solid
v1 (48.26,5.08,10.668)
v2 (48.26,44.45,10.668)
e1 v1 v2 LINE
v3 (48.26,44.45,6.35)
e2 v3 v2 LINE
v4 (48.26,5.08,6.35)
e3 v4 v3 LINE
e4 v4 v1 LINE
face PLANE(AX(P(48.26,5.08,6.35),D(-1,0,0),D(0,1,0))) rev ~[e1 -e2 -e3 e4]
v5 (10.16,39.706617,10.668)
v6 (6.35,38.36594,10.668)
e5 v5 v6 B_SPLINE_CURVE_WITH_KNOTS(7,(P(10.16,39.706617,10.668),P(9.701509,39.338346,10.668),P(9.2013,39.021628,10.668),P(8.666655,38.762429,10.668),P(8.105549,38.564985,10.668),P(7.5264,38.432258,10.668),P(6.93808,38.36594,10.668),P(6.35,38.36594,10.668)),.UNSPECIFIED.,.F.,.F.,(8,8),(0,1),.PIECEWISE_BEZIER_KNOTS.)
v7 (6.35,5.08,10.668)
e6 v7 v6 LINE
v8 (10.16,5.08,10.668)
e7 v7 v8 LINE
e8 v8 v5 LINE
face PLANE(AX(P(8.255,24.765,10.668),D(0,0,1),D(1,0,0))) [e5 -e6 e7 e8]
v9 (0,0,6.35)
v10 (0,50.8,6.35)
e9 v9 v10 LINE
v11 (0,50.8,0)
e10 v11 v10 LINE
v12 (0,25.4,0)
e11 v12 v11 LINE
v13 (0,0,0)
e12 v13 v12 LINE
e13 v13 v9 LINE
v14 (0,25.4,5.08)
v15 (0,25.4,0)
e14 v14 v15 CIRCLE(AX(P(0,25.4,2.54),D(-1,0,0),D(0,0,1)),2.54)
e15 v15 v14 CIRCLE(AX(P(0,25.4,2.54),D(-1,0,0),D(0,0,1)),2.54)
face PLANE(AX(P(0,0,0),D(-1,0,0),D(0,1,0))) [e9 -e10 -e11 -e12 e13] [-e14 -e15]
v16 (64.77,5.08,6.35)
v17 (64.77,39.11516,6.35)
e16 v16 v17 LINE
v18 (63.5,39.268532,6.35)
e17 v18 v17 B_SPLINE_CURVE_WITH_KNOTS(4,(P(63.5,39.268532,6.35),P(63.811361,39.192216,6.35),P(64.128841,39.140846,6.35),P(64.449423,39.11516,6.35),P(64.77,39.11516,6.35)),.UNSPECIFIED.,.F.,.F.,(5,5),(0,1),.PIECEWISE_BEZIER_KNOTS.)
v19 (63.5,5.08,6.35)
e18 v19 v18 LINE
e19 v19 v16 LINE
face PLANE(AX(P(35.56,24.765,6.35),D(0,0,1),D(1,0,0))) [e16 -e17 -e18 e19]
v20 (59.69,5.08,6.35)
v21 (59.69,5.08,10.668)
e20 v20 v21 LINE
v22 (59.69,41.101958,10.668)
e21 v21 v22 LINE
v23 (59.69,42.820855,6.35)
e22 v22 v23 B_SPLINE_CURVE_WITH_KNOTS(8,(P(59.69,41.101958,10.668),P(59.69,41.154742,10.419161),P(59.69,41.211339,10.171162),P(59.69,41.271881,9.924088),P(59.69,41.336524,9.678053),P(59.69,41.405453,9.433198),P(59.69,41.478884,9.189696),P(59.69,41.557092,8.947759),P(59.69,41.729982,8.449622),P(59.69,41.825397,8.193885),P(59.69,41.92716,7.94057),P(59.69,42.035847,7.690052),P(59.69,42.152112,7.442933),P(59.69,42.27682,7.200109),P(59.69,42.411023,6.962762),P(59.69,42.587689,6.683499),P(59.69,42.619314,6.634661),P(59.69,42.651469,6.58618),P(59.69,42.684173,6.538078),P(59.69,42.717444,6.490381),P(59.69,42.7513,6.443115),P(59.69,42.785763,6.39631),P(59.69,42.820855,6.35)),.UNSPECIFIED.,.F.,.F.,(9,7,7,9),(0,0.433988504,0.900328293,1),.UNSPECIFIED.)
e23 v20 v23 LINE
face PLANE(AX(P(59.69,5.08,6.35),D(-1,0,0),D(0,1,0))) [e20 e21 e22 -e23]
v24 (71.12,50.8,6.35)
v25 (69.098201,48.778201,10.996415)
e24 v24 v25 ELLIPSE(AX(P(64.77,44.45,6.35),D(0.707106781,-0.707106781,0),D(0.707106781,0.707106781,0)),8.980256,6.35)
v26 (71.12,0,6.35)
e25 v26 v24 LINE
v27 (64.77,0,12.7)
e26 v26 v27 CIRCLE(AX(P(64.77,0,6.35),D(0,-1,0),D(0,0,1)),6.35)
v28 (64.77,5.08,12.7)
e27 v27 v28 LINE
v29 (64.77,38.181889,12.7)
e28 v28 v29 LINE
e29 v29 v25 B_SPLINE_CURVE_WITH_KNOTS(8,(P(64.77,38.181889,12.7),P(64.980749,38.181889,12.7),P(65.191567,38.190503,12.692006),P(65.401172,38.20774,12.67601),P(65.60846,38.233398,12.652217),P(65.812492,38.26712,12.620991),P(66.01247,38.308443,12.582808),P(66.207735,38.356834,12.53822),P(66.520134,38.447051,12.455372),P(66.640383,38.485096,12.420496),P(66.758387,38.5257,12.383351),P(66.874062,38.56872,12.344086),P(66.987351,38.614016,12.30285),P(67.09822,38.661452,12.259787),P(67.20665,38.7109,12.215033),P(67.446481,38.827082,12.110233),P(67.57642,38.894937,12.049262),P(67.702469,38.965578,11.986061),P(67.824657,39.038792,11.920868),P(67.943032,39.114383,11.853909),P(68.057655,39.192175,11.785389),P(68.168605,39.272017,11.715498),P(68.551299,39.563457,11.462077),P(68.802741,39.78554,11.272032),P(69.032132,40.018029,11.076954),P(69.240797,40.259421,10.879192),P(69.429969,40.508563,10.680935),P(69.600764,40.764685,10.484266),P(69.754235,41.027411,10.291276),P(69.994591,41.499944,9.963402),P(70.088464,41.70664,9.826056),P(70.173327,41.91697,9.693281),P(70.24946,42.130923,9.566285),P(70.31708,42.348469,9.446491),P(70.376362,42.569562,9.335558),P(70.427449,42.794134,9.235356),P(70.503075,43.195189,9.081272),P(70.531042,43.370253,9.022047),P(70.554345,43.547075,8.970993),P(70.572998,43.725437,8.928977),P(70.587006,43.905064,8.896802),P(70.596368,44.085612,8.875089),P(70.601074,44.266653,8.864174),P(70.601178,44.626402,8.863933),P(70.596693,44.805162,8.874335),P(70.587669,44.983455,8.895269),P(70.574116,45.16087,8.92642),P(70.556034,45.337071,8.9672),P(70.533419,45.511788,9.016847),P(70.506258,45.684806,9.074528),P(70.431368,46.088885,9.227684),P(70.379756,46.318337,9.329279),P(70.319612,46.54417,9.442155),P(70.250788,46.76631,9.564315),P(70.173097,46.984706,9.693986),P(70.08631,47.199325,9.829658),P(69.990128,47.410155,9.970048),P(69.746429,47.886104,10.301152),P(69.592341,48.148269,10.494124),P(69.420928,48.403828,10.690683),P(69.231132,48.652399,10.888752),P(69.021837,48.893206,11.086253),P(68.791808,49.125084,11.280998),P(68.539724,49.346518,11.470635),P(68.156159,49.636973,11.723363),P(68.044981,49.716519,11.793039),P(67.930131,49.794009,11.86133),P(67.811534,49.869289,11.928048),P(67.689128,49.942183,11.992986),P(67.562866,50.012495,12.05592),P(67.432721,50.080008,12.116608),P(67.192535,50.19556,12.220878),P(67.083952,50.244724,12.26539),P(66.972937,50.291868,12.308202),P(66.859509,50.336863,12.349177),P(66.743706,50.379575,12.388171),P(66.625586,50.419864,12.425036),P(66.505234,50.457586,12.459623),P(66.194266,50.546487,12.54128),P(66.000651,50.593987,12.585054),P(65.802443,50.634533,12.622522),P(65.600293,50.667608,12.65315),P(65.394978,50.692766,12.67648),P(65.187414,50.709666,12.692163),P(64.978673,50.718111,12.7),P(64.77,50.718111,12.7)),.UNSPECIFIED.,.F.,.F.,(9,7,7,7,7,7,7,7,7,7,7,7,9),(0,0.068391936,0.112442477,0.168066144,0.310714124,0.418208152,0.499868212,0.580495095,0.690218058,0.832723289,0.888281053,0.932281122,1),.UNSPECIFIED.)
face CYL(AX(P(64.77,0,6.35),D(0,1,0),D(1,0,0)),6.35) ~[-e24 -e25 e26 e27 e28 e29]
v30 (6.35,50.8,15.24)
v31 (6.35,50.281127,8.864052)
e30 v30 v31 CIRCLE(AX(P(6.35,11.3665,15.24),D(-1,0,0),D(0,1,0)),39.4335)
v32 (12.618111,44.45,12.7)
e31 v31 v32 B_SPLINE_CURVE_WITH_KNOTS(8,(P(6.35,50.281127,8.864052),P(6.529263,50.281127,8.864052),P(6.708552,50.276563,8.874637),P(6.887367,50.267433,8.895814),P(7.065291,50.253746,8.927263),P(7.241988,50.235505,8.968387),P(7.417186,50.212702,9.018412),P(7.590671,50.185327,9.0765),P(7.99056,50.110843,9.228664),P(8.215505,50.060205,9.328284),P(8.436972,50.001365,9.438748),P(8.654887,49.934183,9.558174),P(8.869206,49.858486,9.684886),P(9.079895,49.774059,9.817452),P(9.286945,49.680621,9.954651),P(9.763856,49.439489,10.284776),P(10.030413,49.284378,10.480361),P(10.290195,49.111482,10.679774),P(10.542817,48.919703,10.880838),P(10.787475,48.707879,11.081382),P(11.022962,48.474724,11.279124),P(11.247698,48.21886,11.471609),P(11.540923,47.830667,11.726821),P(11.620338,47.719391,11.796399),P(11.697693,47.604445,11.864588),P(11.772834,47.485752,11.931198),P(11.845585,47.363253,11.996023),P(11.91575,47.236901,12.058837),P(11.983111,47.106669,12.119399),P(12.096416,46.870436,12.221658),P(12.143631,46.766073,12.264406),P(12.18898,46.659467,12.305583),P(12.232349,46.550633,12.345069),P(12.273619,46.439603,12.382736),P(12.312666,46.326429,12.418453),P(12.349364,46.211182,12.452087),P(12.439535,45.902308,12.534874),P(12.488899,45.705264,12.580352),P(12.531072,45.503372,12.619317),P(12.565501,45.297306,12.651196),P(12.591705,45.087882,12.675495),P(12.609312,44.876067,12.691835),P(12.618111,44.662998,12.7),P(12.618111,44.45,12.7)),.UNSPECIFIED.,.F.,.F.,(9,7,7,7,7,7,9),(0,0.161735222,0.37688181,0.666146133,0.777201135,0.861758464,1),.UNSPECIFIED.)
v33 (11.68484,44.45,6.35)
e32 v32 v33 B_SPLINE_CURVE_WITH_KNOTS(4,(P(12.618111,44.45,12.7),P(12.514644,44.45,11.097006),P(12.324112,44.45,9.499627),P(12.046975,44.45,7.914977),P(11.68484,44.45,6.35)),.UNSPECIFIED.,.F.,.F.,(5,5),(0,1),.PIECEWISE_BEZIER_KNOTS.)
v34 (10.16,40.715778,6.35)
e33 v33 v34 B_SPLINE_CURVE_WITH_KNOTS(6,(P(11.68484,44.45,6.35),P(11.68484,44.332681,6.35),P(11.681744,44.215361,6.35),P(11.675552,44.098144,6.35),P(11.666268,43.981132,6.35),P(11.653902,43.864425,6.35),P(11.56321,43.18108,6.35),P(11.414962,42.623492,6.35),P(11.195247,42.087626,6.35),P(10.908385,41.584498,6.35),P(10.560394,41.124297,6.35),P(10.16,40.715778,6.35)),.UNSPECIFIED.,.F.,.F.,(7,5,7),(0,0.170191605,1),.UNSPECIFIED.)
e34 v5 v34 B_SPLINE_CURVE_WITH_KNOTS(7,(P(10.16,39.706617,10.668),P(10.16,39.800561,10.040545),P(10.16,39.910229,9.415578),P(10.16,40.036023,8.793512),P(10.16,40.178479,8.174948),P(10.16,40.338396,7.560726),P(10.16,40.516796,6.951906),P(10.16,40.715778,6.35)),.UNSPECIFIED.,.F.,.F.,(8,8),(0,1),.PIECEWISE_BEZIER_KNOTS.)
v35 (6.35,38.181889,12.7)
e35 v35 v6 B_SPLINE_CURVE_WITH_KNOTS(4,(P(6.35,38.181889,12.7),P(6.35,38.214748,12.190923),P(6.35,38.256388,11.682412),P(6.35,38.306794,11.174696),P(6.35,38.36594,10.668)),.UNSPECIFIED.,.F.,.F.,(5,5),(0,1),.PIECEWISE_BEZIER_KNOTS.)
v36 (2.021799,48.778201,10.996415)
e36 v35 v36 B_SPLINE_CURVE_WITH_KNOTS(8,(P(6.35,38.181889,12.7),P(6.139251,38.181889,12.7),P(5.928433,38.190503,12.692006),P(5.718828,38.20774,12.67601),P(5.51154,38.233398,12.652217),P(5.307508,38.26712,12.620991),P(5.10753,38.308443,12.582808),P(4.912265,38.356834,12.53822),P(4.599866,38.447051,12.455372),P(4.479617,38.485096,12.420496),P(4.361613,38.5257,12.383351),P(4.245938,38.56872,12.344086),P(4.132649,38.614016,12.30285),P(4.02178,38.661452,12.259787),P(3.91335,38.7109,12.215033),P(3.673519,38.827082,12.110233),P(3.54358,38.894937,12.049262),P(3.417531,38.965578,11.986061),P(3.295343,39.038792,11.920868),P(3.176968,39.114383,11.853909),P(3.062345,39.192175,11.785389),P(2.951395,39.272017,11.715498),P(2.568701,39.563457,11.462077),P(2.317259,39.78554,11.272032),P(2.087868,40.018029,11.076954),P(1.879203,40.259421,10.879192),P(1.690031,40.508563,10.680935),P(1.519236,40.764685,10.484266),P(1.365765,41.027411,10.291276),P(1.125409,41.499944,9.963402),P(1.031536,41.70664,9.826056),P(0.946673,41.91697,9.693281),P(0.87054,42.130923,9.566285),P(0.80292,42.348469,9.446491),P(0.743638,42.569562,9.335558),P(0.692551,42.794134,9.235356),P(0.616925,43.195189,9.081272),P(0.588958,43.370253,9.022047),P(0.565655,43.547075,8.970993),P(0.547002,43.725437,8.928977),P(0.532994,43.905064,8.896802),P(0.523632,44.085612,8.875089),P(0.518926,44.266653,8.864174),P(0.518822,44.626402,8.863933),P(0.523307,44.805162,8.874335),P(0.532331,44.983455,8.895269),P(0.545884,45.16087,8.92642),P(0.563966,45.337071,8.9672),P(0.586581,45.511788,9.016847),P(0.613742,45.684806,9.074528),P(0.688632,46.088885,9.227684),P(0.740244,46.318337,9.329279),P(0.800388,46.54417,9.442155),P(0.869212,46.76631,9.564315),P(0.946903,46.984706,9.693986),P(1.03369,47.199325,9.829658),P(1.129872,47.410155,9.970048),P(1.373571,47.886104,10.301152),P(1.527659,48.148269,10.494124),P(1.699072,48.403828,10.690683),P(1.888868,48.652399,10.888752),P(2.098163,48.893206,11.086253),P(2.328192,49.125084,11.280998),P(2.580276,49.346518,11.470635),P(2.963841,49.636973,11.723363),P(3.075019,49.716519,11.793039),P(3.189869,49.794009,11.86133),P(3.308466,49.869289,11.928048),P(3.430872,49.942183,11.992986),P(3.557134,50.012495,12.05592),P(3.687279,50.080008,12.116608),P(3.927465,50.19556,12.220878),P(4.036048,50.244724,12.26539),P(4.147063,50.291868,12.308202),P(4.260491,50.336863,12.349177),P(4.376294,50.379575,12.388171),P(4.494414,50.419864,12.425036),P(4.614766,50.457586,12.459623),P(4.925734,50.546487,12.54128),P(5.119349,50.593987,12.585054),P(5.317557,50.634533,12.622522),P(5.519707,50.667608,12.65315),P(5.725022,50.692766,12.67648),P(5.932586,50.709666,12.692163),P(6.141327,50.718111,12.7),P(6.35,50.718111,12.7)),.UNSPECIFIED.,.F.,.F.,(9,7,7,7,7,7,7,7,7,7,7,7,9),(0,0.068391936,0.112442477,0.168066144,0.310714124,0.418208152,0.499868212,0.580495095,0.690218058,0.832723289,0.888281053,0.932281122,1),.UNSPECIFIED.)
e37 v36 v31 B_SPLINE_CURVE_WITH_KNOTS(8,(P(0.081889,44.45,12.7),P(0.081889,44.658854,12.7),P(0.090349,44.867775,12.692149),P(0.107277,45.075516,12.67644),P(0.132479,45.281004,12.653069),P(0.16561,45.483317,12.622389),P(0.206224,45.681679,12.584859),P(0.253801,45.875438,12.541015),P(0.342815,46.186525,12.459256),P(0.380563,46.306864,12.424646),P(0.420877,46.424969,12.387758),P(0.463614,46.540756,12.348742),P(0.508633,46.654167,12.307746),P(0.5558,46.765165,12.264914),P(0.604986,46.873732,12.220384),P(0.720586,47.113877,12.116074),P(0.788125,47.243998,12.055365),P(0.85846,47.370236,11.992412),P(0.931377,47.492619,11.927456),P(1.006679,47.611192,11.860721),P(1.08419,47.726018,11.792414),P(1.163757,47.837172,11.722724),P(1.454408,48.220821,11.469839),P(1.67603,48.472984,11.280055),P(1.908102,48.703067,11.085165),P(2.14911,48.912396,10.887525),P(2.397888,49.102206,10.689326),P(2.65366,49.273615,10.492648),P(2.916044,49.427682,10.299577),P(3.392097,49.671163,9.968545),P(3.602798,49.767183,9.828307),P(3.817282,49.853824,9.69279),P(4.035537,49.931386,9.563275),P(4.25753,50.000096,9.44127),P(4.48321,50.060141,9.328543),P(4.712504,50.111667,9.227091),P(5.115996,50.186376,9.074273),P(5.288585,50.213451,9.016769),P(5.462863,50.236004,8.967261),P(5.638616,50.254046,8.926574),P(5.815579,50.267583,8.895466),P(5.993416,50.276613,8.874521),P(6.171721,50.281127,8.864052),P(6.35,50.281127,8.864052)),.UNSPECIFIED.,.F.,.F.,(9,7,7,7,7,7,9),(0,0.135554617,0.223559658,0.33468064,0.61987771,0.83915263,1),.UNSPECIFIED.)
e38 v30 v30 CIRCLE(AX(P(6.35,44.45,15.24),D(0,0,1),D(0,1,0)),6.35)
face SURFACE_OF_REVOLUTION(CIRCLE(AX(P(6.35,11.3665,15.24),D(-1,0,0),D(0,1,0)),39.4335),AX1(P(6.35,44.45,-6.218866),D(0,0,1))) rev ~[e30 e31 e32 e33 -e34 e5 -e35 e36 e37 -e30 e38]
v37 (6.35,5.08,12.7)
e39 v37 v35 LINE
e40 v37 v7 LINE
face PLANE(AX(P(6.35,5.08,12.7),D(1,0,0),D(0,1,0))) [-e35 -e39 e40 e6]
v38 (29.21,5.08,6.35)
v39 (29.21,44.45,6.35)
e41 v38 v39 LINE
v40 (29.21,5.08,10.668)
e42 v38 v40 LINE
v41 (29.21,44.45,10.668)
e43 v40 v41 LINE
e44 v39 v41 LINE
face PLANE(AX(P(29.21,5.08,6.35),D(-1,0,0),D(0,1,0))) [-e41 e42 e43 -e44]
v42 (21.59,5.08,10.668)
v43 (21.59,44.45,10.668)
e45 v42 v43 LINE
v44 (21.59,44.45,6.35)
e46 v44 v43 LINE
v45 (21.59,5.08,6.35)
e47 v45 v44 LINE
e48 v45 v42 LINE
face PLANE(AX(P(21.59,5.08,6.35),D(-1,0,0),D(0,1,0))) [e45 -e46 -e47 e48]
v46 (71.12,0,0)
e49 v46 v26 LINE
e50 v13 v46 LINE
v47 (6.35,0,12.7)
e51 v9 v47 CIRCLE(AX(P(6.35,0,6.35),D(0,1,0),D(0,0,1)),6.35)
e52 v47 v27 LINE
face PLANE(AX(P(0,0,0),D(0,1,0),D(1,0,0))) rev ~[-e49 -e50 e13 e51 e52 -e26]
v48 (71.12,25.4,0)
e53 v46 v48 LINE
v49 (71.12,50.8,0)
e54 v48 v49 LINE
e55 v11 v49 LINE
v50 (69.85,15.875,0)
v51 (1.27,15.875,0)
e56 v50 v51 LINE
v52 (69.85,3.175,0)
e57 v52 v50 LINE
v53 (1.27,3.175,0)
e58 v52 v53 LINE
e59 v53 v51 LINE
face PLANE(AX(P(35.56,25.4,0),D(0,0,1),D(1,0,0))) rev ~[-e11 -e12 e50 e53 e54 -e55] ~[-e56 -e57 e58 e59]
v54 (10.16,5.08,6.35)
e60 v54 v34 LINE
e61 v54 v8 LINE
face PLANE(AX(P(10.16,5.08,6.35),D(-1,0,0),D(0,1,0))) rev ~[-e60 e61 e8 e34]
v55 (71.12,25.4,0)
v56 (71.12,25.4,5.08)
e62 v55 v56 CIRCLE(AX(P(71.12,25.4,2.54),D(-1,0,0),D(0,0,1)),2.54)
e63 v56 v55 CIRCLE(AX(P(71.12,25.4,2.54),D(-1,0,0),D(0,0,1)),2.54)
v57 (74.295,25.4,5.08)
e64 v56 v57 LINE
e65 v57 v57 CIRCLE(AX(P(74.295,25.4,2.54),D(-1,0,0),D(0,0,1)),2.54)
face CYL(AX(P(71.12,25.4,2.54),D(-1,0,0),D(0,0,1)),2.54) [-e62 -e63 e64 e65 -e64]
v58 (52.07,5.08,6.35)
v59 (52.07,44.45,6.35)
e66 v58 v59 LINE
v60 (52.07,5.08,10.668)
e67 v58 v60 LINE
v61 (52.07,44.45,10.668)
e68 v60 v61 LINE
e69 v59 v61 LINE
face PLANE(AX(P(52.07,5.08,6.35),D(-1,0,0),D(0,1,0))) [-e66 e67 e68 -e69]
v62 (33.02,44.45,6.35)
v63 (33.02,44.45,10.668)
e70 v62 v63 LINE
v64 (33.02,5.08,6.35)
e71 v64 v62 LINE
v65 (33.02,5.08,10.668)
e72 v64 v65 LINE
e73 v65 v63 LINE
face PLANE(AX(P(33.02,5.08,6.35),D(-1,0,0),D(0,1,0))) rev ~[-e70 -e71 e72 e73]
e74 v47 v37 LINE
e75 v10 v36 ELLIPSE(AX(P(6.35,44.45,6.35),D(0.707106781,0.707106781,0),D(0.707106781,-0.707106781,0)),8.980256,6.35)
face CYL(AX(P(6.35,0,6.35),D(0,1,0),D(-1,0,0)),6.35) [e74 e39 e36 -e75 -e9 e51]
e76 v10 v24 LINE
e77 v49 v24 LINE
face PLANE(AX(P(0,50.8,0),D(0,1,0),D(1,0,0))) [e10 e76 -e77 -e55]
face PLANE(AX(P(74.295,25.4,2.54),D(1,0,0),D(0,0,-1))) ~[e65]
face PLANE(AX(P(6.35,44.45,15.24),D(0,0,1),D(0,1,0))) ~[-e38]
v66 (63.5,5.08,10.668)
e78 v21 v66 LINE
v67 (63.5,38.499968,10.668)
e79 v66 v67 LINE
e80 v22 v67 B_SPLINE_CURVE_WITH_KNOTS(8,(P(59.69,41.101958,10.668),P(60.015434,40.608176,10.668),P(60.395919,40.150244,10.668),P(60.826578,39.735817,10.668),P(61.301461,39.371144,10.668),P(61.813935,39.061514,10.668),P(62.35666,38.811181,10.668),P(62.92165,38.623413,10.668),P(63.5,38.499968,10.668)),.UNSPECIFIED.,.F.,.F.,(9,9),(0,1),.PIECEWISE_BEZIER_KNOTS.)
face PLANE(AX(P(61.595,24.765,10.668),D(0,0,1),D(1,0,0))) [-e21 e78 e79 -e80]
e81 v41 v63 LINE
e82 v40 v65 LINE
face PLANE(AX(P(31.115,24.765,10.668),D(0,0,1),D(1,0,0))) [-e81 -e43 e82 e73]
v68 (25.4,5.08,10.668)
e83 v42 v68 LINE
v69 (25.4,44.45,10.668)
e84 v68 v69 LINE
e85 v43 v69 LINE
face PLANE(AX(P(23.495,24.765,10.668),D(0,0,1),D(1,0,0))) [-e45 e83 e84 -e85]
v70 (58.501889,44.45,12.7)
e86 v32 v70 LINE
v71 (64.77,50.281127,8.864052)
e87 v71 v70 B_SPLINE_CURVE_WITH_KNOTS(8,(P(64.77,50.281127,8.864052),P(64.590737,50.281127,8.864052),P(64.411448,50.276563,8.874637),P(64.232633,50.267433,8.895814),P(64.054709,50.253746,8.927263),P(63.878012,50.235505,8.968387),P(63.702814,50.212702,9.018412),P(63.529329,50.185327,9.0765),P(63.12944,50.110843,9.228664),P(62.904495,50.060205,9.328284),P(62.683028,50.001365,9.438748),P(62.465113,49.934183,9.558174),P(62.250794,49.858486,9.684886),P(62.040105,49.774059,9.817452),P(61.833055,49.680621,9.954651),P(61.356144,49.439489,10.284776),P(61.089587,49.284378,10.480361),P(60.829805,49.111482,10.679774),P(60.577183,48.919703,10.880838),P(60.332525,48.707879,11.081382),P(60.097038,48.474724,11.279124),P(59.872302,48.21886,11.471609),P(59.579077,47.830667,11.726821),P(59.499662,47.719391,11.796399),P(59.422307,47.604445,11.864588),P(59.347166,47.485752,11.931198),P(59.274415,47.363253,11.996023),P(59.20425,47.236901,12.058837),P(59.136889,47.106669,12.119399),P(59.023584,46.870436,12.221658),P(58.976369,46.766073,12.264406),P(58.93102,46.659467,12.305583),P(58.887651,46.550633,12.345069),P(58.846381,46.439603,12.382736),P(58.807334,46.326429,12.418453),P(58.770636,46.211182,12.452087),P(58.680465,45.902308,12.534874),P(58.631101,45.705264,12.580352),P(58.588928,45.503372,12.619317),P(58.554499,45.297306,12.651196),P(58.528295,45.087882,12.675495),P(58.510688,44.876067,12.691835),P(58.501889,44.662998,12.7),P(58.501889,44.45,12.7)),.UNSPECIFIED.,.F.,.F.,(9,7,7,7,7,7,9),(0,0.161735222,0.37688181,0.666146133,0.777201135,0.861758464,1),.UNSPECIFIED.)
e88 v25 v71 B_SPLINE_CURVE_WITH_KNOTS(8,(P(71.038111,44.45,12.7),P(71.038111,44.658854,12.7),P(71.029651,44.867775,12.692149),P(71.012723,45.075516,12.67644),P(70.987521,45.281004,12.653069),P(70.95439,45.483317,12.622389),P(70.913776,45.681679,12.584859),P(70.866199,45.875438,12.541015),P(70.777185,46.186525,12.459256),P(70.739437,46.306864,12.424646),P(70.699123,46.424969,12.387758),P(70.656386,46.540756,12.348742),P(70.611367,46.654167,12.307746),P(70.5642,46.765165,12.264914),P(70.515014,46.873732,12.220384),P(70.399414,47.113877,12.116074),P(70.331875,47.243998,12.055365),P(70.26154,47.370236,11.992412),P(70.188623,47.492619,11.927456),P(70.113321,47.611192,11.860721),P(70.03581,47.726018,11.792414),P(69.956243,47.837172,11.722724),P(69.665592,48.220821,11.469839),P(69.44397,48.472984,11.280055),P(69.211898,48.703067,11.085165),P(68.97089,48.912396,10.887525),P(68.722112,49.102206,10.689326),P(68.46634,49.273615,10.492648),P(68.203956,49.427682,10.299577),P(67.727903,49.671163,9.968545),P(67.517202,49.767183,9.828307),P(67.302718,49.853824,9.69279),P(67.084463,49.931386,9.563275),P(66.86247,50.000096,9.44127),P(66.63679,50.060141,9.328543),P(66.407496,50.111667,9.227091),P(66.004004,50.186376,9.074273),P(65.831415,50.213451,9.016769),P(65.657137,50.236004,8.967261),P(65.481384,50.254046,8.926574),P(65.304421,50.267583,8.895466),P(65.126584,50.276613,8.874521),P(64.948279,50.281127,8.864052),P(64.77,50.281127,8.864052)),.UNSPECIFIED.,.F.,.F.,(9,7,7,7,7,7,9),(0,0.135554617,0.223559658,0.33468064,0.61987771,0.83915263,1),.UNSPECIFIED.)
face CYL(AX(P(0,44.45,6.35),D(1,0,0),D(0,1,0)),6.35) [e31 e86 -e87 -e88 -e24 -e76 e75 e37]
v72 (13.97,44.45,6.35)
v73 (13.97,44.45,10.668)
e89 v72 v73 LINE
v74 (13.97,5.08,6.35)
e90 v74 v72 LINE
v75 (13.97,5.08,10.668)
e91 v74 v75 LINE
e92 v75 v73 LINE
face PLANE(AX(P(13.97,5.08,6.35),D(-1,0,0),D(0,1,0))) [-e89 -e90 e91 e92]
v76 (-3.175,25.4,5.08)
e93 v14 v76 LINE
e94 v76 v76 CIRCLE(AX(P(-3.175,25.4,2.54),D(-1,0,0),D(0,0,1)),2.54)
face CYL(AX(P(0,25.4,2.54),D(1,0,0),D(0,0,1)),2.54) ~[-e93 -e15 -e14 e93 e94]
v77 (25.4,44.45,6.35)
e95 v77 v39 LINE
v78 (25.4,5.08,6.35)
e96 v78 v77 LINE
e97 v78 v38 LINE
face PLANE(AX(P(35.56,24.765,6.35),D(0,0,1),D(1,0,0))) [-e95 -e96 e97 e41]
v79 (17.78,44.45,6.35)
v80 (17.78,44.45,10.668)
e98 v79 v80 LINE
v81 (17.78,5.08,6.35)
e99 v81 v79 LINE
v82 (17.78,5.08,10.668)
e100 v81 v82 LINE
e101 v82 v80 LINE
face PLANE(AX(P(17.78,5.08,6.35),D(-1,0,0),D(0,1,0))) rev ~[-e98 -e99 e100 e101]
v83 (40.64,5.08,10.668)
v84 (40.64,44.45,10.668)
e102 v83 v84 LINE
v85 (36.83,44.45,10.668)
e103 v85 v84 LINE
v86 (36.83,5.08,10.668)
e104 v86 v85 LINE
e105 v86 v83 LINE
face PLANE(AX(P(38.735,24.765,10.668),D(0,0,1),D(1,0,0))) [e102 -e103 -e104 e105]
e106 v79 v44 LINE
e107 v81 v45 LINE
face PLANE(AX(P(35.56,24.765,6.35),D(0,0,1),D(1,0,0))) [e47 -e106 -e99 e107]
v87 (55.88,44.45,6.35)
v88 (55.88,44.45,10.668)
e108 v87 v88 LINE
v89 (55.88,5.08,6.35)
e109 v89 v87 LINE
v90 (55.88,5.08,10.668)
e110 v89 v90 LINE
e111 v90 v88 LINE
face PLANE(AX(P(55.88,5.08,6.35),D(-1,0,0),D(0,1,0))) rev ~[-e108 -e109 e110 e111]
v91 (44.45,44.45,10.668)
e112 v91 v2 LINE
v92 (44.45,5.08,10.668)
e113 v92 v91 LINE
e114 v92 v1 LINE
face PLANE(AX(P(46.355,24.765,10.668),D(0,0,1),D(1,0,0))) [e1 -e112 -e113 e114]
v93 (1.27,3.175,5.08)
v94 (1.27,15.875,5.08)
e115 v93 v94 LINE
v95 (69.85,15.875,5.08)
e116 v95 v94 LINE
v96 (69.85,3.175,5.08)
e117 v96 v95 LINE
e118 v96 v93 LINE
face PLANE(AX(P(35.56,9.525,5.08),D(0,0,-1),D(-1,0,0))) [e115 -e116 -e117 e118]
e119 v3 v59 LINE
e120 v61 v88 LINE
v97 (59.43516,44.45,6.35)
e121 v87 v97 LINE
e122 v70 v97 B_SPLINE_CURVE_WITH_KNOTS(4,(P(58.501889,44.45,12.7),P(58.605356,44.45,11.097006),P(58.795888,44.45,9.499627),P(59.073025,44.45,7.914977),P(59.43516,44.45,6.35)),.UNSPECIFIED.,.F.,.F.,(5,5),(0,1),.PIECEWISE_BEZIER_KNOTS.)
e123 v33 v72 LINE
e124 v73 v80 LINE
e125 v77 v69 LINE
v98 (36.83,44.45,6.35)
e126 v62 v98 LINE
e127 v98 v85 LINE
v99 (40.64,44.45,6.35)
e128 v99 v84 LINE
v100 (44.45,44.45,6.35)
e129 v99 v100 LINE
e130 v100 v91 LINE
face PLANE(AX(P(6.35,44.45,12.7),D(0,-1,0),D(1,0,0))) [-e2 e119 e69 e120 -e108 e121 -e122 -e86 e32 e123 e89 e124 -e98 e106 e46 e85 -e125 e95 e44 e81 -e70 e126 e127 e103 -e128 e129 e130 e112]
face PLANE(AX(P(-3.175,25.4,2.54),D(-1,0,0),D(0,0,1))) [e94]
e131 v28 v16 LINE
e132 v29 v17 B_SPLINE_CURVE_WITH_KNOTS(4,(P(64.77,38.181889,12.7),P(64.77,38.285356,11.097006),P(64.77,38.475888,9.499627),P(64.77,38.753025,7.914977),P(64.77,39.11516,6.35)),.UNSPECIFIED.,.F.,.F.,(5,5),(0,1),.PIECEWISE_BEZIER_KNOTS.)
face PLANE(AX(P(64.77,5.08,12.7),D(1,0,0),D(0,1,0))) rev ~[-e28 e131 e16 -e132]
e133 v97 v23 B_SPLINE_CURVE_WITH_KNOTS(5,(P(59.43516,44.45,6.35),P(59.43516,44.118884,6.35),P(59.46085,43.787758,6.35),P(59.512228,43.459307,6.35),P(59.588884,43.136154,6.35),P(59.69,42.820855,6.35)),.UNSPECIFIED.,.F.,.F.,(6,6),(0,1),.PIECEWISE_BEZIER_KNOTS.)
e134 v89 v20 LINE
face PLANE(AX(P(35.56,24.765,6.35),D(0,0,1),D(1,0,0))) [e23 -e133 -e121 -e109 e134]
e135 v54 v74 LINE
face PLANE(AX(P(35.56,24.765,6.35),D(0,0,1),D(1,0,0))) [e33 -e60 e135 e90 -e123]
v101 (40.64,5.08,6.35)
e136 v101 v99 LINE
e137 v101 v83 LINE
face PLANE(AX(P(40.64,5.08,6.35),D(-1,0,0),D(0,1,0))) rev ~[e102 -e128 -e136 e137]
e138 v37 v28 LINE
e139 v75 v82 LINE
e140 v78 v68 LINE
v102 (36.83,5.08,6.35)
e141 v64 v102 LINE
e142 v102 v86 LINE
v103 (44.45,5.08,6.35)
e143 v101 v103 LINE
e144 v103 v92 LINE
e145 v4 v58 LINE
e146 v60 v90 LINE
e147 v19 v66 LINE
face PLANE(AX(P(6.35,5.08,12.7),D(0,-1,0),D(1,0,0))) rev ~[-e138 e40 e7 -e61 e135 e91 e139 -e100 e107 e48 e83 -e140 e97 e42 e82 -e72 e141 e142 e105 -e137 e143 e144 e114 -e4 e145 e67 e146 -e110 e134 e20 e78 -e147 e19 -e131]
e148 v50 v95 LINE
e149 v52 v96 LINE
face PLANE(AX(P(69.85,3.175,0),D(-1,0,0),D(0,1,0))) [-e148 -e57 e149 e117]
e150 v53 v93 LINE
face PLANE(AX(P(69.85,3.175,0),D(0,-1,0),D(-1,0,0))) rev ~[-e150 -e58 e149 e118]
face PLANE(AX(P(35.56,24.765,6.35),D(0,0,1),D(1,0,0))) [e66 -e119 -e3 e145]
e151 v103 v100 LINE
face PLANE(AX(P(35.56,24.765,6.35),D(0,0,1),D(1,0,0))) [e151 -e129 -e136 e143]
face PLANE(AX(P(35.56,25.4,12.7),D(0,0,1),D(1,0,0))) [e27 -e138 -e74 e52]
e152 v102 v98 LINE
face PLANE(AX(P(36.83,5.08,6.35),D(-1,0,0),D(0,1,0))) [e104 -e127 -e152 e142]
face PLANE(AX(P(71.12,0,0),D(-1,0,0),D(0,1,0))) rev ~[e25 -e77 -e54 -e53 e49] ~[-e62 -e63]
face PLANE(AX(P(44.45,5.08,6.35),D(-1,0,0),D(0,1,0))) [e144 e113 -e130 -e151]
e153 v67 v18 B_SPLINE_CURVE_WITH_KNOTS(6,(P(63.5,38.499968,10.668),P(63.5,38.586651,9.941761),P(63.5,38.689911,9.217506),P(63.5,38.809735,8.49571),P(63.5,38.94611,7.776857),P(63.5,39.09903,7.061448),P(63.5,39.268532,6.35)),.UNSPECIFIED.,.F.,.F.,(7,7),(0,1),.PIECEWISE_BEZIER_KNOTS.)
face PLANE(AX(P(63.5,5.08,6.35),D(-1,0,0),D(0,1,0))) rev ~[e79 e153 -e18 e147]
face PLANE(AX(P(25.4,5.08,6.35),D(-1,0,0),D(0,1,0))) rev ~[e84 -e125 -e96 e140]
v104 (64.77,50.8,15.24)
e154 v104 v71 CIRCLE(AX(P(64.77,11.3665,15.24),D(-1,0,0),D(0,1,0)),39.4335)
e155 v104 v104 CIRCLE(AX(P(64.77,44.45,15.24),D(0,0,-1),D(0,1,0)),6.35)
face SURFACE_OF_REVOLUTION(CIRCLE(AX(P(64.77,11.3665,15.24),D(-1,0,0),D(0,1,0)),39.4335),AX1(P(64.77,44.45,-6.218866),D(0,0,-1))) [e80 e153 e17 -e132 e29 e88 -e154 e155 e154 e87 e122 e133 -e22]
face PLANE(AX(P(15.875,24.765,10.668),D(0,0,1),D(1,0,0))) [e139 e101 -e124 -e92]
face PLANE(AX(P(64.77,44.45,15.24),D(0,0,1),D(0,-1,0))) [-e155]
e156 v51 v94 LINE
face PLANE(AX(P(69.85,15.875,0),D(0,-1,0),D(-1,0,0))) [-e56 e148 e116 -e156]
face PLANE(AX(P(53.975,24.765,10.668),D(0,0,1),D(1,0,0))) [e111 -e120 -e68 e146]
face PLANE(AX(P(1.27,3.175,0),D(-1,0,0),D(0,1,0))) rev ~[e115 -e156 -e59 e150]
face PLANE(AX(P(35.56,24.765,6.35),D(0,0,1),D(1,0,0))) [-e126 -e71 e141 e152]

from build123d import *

# Parameters (mm, degrees)
SKETCH2_W           = 71.12
SKETCH2_H           = 50.8
BOSS_EXTRUDE1_DEPTH = 12.7
FILLET2_R           = 6.35
SKETCH3_W           = 58.42
SKETCH3_H           = 39.37
CUT_EXTRUDE1_DEPTH  = 6.35
SKETCH4_W           = 3.81
SKETCH4_H           = 39.37
BOSS_EXTRUDE2_DEPTH = 4.318
LPATTERN1_COUNT     = 8
LPATTERN1_PITCH     = 7.62
SKETCH9_W           = 68.58
SKETCH9_H           = 12.7
CUT_EXTRUDE3_DEPTH  = 5.08
SKETCH10_R          = 2.54
BOSS_EXTRUDE3_DEPTH = 3.175
SKETCH8_W           = 30.144024865
SKETCH8_H           = 52.725935383
CUT_EXTRUDE2_DEPTH  = 83.82


with BuildPart() as part:
    # Sketch2 → Boss-Extrude1 (new body)
    with BuildSketch(Plane.XY):
        with Locations((35.56, 25.4)):
            Rectangle(SKETCH2_W, SKETCH2_H)
    extrude(amount=BOSS_EXTRUDE1_DEPTH)

    # Fillet2
    fillet2_edges = [part.edges().sort_by_distance(p)[0] for p in [
        (71.12, 25.4, 12.7),
        (35.56, 50.8, 12.7),
        (0, 25.4, 12.7),
    ]]
    fillet(fillet2_edges, radius=FILLET2_R)

    # Sketch3 → Cut-Extrude1 (cut)
    with BuildSketch(Plane.XY.offset(12.7)):
        with Locations((35.56, 24.765)):
            Rectangle(SKETCH3_W, SKETCH3_H)
    extrude(amount=-CUT_EXTRUDE1_DEPTH, mode=Mode.SUBTRACT)

    # Sketch4 → Boss-Extrude2 (add)
    with BuildSketch(Plane.XY.offset(6.35)):
        with Locations((8.255, 24.765)):
            Rectangle(SKETCH4_W, SKETCH4_H)
    boss_extrude2 = extrude(amount=BOSS_EXTRUDE2_DEPTH)

    # LPattern1: Boss-Extrude2 ×8
    with Locations(*[(i * LPATTERN1_PITCH, 0, 0) for i in range(1, LPATTERN1_COUNT)]):
        add(boss_extrude2)

    # Sketch7 → Revolve1 (revolve)
    with BuildSketch(Plane(origin=(6.35, 0, 0), x_dir=(0, 0, -1), z_dir=(1, 0, 0))):
        with BuildLine():
            Line((6.218866466, 44.45), (-15.24, 44.45))
            Line((-15.24, 44.45), (-15.24, 50.8))
            ThreePointArc((-15.24, 50.8), (-4.050658531, 49.179190459), (6.218866466, 44.45))
        make_face()
    revolve1 = revolve(axis=Axis((6.35, 44.45, -6.218866466), (0, 0, 1)))

    # Sketch9 → Cut-Extrude3 (cut)
    with BuildSketch(Plane(origin=(0, 0, 0), x_dir=(-1, 0, 0), z_dir=(0, 0, -1))):
        with Locations((-35.56, 9.525)):
            Rectangle(SKETCH9_W, SKETCH9_H)
    extrude(amount=-CUT_EXTRUDE3_DEPTH, mode=Mode.SUBTRACT)

    # Sketch10 → Boss-Extrude3 (add)
    with BuildSketch(Plane.ZY):
        with Locations((2.54, 25.4)):
            Circle(SKETCH10_R)
    boss_extrude3 = extrude(amount=BOSS_EXTRUDE3_DEPTH)

    # Mirror1: Revolve1, Boss-Extrude3 across plane
    add(revolve1.mirror(Plane(origin=(35.56, 0, 0), x_dir=(0, 0, 1), z_dir=(1, 0, 0))))
    add(boss_extrude3.mirror(Plane(origin=(35.56, 0, 0), x_dir=(0, 0, 1), z_dir=(1, 0, 0))))

    # Sketch8 → Cut-Extrude2 (cut)
    with BuildSketch(Plane.ZY):
        with Locations((-15.072012433, 24.437032309)):
            Rectangle(SKETCH8_W, SKETCH8_H)
    extrude(amount=-CUT_EXTRUDE2_DEPTH, mode=Mode.SUBTRACT)


solid = part.part
